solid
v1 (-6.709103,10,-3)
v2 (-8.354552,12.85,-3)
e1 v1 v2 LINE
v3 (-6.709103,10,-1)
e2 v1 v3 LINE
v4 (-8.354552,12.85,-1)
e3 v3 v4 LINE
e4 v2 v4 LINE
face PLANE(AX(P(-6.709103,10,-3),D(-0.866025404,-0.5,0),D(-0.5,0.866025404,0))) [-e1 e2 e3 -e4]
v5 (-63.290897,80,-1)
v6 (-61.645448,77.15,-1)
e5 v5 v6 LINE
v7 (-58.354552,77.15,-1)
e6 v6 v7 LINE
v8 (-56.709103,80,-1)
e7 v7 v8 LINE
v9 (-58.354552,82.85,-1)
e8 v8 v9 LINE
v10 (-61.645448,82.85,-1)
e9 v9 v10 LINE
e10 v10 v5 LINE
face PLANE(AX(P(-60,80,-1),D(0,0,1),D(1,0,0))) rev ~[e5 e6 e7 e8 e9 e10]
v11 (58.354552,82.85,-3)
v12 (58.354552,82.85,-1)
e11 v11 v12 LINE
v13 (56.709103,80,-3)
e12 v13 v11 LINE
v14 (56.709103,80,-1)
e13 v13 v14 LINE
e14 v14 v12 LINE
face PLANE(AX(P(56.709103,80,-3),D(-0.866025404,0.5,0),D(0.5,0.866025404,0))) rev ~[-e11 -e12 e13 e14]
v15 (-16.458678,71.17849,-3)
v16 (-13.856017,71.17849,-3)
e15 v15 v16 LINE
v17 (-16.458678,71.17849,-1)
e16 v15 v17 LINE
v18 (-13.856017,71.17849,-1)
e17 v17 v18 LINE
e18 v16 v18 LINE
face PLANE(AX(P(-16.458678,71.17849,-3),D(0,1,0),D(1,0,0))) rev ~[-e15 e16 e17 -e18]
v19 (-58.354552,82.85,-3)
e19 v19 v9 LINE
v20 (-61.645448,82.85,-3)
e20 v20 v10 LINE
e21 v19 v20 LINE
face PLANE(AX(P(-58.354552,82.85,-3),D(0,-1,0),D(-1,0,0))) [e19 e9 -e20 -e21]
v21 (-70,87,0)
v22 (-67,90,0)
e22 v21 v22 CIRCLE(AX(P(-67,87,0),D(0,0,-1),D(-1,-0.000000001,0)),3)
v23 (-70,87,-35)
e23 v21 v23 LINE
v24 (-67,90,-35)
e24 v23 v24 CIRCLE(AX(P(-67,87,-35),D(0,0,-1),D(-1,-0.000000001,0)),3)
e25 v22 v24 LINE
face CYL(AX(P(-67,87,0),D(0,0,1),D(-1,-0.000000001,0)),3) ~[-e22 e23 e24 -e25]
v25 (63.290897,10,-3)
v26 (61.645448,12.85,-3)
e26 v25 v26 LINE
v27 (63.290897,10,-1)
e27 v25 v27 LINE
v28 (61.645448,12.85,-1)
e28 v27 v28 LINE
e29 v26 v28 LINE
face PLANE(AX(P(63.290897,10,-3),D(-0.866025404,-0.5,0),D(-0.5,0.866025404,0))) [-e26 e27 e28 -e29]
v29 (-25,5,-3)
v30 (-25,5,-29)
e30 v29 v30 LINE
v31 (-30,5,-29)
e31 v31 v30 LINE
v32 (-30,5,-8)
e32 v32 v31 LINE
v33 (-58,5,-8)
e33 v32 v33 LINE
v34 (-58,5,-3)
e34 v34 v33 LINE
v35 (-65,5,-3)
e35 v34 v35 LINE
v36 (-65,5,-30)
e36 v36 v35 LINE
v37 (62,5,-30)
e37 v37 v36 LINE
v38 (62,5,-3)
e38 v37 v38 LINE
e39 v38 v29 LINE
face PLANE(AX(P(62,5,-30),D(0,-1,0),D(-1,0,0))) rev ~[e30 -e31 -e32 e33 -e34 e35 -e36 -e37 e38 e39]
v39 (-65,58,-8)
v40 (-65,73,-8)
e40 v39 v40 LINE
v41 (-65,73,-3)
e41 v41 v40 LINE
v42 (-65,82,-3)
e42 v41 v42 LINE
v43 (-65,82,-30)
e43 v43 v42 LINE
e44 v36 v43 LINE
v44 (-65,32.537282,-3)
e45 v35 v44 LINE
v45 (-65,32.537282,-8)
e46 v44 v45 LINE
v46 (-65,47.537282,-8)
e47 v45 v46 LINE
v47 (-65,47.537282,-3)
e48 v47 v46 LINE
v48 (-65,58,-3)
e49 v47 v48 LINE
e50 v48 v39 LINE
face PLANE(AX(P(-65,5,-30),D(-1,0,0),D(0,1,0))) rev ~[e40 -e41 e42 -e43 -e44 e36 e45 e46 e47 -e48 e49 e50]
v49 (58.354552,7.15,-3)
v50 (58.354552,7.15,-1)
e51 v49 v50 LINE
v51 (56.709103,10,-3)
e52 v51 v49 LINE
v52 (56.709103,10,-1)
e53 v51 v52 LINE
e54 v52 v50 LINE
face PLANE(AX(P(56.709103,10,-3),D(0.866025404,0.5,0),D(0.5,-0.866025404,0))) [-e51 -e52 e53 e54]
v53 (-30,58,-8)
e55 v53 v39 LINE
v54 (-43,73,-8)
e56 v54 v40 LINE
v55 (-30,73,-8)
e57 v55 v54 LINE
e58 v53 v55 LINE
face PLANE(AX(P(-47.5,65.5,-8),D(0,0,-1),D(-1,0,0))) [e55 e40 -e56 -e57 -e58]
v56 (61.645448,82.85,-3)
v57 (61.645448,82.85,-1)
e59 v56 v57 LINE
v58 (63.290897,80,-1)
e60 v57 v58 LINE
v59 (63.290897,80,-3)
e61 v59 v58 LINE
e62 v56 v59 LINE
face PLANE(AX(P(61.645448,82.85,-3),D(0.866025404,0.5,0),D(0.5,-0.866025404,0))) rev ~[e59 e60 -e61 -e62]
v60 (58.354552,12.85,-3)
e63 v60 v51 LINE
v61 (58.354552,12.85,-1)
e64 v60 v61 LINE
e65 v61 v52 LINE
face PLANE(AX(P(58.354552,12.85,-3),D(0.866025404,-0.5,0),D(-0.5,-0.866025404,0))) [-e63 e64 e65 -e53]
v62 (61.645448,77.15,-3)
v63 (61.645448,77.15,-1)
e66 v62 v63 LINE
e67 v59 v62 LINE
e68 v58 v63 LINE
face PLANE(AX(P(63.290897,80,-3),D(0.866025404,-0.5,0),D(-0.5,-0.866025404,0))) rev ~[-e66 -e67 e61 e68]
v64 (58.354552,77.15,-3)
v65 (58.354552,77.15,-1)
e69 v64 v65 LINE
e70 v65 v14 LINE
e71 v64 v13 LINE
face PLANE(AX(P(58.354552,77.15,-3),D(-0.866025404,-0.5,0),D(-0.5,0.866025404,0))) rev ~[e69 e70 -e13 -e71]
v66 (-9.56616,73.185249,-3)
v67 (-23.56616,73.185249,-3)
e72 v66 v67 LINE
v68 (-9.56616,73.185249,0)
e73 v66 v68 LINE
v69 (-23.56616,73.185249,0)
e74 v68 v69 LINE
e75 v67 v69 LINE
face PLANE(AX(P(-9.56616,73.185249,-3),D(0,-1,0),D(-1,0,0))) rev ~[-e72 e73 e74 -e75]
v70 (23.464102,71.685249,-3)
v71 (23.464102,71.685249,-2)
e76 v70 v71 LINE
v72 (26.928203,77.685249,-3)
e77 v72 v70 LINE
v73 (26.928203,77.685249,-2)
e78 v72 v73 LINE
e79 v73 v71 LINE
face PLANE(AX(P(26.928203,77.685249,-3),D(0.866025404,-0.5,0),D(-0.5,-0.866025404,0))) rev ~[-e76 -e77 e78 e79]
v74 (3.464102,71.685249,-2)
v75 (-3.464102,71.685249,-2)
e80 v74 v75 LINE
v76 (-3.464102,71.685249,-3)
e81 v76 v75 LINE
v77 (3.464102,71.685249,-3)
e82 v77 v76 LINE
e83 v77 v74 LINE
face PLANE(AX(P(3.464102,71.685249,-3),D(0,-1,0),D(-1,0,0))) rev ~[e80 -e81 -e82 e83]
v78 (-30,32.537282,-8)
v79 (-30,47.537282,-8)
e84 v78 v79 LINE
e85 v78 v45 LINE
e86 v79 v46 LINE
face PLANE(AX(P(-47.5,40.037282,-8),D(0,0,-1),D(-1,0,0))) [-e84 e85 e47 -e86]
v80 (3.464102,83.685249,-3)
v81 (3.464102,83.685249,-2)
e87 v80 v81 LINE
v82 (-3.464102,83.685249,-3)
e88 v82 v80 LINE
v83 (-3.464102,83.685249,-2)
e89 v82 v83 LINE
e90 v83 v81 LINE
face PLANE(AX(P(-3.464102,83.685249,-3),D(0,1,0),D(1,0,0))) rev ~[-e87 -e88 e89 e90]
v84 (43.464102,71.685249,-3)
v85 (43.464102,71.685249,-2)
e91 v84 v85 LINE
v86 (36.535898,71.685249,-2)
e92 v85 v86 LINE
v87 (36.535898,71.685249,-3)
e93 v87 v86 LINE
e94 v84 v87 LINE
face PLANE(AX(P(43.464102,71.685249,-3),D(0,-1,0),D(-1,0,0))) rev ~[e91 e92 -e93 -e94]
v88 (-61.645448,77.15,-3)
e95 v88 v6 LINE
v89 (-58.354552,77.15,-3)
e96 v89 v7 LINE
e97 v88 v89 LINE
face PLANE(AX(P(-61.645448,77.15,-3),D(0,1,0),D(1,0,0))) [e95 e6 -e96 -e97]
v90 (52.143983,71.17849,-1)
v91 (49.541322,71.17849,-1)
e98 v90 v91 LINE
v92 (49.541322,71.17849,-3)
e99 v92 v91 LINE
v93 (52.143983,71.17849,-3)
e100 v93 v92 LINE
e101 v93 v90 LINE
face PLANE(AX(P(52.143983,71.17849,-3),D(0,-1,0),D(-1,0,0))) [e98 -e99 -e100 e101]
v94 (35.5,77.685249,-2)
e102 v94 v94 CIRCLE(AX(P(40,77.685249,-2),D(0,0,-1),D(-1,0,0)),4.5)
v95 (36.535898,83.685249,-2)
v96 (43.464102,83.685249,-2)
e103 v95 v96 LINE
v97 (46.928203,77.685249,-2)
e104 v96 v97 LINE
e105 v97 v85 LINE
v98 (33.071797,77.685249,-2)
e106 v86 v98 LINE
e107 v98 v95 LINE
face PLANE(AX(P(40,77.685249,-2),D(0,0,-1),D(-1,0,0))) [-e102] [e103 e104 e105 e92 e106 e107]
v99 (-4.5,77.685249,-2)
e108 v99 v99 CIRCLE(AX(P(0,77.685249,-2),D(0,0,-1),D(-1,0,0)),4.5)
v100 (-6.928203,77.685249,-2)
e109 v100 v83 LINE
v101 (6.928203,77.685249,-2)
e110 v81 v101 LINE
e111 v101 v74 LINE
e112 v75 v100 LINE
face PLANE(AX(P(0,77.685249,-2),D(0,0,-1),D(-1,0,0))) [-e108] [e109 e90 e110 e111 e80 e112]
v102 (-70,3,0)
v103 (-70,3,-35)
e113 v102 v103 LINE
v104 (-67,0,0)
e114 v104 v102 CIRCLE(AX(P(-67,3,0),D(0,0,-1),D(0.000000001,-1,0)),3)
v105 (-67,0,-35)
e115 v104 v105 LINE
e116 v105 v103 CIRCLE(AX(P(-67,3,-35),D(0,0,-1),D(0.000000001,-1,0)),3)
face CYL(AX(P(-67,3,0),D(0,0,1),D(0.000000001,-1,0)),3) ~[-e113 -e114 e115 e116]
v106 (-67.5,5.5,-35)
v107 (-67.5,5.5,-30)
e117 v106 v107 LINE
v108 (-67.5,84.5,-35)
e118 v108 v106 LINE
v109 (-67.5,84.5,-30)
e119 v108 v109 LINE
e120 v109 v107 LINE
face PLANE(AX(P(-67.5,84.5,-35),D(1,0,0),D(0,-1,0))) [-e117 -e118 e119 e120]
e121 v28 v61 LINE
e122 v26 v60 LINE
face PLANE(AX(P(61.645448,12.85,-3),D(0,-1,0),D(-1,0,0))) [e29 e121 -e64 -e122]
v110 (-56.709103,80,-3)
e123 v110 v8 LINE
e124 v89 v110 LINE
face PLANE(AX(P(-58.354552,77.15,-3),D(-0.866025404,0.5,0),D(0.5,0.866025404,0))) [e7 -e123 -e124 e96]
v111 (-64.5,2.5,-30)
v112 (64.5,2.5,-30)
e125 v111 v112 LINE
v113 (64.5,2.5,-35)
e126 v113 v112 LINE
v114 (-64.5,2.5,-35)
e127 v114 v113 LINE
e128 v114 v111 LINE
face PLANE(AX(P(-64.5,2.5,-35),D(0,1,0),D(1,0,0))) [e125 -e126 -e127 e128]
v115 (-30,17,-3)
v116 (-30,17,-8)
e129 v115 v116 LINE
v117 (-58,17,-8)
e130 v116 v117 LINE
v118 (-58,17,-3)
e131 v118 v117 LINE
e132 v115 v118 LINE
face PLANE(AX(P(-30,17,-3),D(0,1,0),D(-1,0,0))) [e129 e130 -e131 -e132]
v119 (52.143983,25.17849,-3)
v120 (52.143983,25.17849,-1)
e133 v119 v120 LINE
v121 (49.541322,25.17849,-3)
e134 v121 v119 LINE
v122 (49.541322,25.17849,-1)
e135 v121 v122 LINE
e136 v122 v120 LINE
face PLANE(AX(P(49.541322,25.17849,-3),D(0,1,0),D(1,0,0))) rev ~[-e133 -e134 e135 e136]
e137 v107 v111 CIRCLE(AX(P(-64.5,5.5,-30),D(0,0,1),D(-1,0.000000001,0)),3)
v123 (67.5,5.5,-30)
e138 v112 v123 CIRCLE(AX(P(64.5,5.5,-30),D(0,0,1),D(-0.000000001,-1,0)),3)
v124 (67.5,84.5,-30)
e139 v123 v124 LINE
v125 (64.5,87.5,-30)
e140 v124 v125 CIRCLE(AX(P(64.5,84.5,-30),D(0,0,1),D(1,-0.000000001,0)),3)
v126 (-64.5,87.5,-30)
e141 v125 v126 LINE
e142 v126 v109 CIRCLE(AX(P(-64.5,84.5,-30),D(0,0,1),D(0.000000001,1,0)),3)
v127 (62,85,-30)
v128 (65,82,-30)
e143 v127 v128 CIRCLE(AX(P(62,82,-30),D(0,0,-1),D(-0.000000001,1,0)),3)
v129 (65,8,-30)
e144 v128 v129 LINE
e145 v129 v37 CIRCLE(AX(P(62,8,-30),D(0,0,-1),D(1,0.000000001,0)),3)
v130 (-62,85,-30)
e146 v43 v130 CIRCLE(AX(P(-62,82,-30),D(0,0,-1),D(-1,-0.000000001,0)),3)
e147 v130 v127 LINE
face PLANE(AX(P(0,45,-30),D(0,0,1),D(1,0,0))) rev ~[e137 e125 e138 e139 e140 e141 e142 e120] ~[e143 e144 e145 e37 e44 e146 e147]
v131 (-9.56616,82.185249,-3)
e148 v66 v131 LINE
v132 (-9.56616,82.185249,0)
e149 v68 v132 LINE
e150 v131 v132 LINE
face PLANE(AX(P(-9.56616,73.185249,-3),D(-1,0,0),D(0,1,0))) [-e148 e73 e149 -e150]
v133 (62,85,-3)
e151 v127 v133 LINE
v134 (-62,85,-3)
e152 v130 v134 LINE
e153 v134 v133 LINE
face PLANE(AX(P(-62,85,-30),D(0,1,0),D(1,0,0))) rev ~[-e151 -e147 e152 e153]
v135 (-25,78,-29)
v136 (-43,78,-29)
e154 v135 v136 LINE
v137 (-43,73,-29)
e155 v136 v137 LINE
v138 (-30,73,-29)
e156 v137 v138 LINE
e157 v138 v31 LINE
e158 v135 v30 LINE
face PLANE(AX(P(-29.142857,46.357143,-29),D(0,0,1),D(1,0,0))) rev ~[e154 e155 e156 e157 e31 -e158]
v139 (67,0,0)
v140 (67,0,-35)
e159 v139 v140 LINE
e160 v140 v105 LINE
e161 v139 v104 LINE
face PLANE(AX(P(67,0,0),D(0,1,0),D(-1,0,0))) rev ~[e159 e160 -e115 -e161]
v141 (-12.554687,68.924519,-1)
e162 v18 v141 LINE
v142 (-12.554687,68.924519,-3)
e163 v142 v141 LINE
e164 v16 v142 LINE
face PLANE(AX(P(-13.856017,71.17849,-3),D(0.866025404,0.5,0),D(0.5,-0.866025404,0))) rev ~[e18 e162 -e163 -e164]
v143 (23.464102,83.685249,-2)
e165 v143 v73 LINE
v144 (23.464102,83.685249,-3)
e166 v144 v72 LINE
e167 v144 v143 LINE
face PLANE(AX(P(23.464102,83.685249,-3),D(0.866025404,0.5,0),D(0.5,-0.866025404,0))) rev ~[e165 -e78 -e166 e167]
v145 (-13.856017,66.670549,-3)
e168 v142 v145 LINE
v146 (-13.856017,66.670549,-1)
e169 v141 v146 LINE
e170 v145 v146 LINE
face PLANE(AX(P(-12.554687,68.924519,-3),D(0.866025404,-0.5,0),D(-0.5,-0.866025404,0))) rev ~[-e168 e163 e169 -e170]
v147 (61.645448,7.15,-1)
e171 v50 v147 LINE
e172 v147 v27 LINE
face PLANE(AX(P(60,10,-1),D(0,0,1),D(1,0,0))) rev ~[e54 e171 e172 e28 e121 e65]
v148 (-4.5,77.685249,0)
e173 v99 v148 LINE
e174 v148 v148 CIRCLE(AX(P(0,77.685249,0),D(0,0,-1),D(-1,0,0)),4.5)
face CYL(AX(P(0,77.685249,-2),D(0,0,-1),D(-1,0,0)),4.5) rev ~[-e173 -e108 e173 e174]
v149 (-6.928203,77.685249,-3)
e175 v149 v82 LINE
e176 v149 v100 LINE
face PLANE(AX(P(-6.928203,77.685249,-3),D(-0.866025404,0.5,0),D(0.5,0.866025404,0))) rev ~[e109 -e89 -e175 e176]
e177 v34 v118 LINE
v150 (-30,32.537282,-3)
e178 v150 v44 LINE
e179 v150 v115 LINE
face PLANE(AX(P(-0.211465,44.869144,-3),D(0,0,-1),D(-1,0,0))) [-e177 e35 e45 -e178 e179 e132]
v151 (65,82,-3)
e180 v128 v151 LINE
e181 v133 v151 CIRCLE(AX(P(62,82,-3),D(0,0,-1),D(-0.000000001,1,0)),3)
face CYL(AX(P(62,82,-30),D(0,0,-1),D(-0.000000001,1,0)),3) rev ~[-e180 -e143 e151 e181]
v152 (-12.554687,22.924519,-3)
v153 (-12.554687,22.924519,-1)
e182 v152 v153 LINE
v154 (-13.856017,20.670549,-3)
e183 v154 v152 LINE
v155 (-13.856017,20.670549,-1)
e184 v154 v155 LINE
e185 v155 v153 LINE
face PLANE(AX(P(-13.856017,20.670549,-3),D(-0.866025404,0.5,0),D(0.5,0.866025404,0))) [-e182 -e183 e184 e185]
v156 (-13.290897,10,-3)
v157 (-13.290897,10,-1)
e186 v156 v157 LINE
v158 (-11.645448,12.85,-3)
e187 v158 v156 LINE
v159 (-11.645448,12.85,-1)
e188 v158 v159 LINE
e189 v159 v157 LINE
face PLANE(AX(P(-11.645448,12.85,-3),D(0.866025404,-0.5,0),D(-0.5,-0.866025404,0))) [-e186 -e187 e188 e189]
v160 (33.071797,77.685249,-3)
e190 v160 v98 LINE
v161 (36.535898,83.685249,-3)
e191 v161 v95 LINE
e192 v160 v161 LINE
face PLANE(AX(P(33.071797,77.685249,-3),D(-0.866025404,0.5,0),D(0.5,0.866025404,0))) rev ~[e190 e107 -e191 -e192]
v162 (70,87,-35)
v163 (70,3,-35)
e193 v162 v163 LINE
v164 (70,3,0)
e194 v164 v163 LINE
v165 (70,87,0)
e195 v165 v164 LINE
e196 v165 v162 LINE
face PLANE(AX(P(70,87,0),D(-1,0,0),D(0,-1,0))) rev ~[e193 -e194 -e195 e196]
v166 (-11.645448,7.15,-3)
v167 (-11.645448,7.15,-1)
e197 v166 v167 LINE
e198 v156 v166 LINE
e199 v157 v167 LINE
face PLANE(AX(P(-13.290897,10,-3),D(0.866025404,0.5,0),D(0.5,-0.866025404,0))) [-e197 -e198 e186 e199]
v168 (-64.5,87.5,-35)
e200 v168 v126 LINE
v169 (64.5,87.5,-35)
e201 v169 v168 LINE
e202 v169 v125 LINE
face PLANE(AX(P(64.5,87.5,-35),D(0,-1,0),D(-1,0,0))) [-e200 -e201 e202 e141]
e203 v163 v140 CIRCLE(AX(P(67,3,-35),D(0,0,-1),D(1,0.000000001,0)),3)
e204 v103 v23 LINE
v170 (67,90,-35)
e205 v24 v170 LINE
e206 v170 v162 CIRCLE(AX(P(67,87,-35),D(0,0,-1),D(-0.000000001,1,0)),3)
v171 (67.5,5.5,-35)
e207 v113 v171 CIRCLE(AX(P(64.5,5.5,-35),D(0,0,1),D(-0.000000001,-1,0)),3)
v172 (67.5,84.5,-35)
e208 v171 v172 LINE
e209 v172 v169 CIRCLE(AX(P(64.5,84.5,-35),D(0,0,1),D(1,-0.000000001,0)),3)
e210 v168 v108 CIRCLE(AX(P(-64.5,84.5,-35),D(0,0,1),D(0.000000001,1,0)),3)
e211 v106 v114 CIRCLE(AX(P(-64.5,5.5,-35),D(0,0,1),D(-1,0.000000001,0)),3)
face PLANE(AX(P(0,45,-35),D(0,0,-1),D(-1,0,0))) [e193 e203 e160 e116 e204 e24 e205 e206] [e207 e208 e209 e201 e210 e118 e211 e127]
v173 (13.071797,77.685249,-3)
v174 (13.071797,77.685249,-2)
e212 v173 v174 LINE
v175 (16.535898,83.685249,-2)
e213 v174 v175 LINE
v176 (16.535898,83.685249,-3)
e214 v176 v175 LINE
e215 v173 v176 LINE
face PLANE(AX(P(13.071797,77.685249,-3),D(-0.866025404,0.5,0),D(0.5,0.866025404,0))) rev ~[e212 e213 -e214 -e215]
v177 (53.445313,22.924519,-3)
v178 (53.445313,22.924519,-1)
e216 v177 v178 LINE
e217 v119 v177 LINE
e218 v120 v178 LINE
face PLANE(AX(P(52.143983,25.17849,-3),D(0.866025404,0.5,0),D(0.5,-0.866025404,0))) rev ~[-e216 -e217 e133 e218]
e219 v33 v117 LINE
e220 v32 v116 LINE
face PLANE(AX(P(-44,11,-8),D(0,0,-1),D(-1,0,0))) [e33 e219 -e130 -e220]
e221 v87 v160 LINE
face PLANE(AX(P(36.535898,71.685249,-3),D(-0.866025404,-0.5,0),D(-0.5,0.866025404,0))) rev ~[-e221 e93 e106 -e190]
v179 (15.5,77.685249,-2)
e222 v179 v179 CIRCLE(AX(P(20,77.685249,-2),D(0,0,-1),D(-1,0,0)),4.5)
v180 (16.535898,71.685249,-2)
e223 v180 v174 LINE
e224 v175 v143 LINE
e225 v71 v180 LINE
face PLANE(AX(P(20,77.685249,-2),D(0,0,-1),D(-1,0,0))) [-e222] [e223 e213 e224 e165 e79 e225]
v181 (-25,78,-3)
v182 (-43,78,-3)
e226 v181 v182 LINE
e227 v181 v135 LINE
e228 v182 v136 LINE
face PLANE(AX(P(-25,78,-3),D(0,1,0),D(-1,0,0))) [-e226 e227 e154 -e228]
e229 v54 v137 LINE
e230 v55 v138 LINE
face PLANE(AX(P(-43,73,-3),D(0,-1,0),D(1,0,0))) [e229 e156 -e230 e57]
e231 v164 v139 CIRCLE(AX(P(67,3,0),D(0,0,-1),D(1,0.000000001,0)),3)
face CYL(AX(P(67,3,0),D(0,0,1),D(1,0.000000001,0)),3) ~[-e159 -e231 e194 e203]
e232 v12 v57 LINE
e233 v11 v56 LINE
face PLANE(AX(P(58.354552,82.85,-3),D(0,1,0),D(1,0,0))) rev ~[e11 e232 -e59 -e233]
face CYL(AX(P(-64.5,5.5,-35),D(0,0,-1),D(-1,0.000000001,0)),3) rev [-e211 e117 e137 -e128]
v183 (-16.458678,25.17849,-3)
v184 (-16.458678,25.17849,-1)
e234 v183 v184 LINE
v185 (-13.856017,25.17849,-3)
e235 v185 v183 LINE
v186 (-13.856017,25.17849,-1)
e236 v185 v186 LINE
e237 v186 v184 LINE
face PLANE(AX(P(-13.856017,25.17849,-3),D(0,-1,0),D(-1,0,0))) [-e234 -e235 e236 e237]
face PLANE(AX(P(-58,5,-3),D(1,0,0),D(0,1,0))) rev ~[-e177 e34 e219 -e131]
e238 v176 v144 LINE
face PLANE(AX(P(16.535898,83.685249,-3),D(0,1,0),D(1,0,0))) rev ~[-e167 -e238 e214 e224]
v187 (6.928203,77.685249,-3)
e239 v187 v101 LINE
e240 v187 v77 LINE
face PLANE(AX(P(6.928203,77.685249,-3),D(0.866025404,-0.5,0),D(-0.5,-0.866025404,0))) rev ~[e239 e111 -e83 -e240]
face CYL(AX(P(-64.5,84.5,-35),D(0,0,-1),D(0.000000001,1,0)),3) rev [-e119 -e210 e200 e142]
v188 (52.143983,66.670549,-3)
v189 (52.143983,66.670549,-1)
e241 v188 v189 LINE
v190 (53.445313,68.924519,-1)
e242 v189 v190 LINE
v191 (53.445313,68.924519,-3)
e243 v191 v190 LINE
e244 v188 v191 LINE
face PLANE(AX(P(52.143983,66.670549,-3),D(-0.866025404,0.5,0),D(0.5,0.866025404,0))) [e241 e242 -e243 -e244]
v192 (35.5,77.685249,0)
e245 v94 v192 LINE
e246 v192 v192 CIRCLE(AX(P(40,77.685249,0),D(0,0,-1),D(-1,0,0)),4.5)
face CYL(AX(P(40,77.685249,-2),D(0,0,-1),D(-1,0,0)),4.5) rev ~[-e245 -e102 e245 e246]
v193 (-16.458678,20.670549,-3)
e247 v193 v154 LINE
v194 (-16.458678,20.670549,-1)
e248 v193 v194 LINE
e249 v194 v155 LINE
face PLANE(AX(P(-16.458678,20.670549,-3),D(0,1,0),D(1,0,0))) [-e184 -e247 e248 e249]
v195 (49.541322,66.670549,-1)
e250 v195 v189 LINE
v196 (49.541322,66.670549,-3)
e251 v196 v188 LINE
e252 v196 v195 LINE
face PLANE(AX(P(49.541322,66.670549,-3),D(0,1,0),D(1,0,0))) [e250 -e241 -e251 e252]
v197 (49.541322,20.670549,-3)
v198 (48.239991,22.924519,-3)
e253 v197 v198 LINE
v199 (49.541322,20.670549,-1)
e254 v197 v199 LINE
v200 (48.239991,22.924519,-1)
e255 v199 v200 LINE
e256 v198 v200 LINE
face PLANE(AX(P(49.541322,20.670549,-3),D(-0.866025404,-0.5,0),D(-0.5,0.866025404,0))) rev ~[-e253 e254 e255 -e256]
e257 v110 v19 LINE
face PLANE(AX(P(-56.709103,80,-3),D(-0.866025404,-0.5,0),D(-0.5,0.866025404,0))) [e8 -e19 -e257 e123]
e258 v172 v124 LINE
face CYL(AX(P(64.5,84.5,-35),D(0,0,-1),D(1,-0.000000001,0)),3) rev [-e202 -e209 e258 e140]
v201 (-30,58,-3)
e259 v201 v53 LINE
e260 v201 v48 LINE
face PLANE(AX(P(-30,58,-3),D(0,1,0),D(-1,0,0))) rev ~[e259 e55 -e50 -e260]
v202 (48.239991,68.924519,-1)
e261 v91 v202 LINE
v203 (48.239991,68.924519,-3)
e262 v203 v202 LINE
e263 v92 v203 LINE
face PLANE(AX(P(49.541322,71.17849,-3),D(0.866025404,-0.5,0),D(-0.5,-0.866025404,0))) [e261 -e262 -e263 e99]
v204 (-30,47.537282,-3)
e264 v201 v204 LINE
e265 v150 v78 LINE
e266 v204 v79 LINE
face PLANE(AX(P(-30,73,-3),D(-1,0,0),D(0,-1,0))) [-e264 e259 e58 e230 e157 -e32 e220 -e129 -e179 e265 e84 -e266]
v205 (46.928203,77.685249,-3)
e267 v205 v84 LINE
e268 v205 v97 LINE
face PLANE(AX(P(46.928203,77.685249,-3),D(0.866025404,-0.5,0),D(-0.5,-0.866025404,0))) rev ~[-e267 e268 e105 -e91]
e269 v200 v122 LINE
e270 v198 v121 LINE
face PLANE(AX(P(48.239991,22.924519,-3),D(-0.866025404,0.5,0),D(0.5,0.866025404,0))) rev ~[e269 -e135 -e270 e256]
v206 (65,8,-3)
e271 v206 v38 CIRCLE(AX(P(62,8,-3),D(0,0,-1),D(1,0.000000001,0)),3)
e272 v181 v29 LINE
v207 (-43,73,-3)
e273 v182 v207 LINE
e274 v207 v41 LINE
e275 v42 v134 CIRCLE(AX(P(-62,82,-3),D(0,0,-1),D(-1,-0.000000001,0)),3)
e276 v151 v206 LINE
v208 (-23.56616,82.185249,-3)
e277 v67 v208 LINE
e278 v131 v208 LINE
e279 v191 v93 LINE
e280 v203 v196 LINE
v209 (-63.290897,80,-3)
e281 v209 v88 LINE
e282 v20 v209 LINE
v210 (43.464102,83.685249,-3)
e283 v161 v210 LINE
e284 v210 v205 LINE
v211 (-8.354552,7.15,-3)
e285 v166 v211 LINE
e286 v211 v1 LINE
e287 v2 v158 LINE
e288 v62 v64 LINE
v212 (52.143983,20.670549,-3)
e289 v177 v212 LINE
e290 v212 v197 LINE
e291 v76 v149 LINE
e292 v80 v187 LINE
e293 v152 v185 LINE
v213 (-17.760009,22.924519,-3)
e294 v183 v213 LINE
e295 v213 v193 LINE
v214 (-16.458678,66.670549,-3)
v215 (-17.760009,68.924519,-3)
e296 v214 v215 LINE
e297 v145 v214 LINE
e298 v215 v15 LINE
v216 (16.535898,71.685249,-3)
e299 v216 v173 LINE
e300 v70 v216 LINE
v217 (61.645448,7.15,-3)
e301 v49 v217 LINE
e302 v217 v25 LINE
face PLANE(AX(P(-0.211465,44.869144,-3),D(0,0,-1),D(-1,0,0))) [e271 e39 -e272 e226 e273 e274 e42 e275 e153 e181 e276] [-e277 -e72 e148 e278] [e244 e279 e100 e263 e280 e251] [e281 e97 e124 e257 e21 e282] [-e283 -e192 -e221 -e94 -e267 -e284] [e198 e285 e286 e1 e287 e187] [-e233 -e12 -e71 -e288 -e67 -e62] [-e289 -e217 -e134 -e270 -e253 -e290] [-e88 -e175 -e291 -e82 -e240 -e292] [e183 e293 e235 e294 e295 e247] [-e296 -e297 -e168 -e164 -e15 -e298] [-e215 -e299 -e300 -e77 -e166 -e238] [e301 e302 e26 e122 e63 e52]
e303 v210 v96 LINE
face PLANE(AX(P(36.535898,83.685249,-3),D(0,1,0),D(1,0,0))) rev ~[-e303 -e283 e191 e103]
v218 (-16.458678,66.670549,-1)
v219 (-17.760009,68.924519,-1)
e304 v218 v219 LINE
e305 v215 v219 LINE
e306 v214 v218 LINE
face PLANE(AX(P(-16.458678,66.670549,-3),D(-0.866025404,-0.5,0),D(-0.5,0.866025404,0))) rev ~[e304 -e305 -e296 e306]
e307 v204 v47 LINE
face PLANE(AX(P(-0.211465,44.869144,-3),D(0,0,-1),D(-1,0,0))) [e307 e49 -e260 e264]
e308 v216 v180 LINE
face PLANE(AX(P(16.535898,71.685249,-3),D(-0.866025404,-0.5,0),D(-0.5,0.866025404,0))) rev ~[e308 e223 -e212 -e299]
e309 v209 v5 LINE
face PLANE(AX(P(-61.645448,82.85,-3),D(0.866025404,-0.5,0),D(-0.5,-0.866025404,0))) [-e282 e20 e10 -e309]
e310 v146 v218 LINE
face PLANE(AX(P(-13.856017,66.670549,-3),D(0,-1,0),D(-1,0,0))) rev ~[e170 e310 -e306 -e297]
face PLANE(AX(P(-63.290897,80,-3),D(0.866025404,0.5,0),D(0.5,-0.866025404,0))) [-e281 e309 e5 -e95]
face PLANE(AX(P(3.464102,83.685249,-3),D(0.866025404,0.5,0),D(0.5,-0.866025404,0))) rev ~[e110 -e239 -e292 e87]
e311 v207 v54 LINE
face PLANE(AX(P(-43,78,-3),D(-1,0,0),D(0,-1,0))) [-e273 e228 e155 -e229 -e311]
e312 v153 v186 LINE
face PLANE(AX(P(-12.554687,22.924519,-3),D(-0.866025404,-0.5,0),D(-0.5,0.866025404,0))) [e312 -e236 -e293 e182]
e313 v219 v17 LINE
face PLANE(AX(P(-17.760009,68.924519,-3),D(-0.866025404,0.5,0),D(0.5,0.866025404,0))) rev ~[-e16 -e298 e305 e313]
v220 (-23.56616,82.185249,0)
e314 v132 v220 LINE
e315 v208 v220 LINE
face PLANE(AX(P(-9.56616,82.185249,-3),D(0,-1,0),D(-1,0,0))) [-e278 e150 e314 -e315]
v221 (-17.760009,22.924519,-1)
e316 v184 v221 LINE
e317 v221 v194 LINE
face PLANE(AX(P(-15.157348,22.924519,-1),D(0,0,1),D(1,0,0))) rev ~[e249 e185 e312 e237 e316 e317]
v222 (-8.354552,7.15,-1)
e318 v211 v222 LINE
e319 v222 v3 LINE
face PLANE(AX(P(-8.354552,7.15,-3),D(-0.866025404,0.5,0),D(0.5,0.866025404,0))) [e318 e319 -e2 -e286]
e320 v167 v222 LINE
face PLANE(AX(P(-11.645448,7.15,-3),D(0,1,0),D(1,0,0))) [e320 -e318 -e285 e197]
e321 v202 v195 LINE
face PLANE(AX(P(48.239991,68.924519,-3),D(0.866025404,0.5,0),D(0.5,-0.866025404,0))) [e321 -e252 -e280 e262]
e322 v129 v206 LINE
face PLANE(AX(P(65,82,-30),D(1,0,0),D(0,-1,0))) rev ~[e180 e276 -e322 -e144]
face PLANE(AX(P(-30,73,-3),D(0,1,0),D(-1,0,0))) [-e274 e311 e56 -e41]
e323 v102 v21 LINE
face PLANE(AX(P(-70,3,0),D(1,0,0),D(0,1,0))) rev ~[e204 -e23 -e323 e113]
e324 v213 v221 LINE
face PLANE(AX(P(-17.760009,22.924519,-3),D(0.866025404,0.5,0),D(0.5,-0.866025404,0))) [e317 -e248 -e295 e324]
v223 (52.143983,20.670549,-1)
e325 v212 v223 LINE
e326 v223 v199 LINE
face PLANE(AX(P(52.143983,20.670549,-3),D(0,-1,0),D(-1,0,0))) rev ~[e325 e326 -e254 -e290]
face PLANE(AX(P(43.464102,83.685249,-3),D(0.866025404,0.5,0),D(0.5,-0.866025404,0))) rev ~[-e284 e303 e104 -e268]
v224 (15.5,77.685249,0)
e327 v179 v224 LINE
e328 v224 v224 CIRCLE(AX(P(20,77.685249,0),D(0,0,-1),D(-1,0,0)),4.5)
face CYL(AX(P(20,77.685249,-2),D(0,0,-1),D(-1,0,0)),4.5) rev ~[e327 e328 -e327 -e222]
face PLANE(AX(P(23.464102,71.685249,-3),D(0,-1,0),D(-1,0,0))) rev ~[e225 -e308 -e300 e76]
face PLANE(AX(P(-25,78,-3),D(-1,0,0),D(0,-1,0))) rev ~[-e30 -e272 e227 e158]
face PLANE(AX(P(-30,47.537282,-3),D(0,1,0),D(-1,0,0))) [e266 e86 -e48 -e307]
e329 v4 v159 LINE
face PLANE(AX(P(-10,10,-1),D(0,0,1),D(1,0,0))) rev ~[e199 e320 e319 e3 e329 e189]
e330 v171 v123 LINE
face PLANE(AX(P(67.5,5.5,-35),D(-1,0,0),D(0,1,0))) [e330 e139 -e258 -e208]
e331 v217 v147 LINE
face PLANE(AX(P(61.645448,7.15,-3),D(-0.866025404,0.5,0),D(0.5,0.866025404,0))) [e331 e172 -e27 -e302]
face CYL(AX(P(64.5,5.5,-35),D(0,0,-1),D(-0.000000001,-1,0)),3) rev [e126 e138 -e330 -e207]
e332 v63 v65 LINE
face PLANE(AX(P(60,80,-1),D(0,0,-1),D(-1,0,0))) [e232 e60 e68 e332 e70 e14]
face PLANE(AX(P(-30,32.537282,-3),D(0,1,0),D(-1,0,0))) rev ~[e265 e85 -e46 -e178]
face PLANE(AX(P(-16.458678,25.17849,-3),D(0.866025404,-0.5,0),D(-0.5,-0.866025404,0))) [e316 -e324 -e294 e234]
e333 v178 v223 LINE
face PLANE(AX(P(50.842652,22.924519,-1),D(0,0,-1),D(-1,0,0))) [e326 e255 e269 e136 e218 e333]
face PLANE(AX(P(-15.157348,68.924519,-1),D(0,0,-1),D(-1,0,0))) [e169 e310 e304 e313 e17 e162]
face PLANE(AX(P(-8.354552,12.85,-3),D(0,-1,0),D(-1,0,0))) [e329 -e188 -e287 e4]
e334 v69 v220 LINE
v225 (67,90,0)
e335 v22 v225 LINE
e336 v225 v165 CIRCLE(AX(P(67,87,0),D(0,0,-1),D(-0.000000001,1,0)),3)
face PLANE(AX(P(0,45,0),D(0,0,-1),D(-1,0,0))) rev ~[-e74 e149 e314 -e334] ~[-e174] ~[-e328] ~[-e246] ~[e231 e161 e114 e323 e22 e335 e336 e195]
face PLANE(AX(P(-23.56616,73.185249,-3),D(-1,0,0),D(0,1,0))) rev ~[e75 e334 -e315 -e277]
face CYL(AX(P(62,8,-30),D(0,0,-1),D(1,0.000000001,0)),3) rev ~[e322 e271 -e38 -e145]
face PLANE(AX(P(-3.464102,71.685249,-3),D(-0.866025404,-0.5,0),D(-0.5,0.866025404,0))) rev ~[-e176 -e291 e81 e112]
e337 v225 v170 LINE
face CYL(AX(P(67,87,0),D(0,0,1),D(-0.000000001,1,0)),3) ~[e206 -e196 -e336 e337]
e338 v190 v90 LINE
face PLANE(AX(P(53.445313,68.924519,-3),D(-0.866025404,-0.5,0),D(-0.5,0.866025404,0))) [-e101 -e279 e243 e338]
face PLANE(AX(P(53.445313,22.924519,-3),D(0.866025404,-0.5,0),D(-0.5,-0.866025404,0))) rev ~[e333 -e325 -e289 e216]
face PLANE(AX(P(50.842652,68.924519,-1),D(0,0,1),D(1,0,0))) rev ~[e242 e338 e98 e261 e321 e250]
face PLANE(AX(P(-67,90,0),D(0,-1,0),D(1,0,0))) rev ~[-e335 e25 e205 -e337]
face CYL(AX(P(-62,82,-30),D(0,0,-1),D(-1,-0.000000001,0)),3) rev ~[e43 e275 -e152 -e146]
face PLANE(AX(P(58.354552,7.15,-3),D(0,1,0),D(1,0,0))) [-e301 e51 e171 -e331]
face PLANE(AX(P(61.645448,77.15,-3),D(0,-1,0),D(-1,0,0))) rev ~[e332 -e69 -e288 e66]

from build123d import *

# Parameters (mm, degrees)
EXTRUDE_2_DEPTH     = 35
CUT_EXTRUDE_3_DEPTH = 5
CUT_EXTRUDE_4_DEPTH = 27
CUT_EXTRUDE_5_DEPTH = 2
CUT_EXTRUDE_6_DEPTH = 1
SKETCH_10_R         = 4.5
CUT_EXTRUDE_7_DEPTH = 2
SKETCH_11_W         = 35
SKETCH_11_H         = 15
SKETCH_11_W_2       = 28
SKETCH_11_H_2       = 12
EXTRUDE_3_DEPTH     = 5
EXTRUDE_5_DEPTH     = 26
SKETCH_13_W         = 14
SKETCH_13_H         = 9
CUT_EXTRUDE_8_DEPTH = 3


with BuildPart() as part:
    # 草图4 → 凸台-拉伸2 (new body)
    with BuildSketch(Plane.XY):
        with BuildLine():
            Line((67, 0), (-67, 0))
            ThreePointArc((-67, 0), (-69.121320344, 0.878679656), (-70, 3))
            Line((-70, 3), (-70, 87))
            ThreePointArc((-70, 87), (-69.121320344, 89.121320344), (-67, 90))
            Line((-67, 90), (67, 90))
            ThreePointArc((67, 90), (69.121320344, 89.121320344), (70, 87))
            Line((70, 87), (70, 3))
            ThreePointArc((70, 3), (69.121320344, 0.878679656), (67, 0))
        make_face()
    extrude(amount=-EXTRUDE_2_DEPTH)

    # 草图5 → 切除-拉伸3 (cut)
    with BuildSketch(Plane(origin=(0, 0, -35), x_dir=(-1, 0, 0), z_dir=(0, 0, -1))):
        with BuildLine():
            Line((-64.5, 87.5), (64.5, 87.5))
            ThreePointArc((64.5, 87.5), (66.621320344, 86.621320344), (67.5, 84.5))
            Line((67.5, 84.5), (67.5, 5.5))
            ThreePointArc((67.5, 5.5), (66.621320344, 3.378679656), (64.5, 2.5))
            Line((64.5, 2.5), (-64.5, 2.5))
            ThreePointArc((-64.5, 2.5), (-66.621320344, 3.378679656), (-67.5, 5.5))
            Line((-67.5, 5.5), (-67.5, 84.5))
            ThreePointArc((-67.5, 84.5), (-66.621320344, 86.621320344), (-64.5, 87.5))
        make_face()
    extrude(amount=-CUT_EXTRUDE_3_DEPTH, mode=Mode.SUBTRACT)

    # 草图7 → 切除-拉伸4 (cut)
    with BuildSketch(Plane(origin=(0, 0, -30), x_dir=(-1, 0, 0), z_dir=(0, 0, -1))):
        with BuildLine():
            Line((62, 5), (65, 5))
            Line((65, 5), (65, 8))
            Line((65, 8), (65, 82))
            ThreePointArc((65, 82), (64.121320344, 84.121320344), (62, 85))
            Line((62, 85), (-62, 85))
            ThreePointArc((-62, 85), (-64.121320344, 84.121320344), (-65, 82))
            Line((-65, 82), (-65, 8))
            ThreePointArc((-65, 8), (-64.121320344, 5.878679656), (-62, 5))
            Line((-62, 5), (62, 5))
        make_face()
    extrude(amount=-CUT_EXTRUDE_4_DEPTH, mode=Mode.SUBTRACT)

    # 草图8 → 切除-拉伸5 (cut)
    with BuildSketch(Plane(origin=(0, 0, -3), x_dir=(-1, 0, 0), z_dir=(0, 0, -1))):
        Polygon((-58.354551733, 12.85), (-56.709103466, 10), (-58.354551733, 7.15), (-61.645448267, 7.15), (-63.290896534, 10), (-61.645448267, 12.85), align=None)
        Polygon((-56.709103466, 80), (-58.354551733, 82.85), (-61.645448267, 82.85), (-63.290896534, 80), (-61.645448267, 77.15), (-58.354551733, 77.15), align=None)
        Polygon((17.760008931, 68.924519398), (16.458678386, 71.17849002), (13.856017295, 71.17849002), (12.554686749, 68.924519398), (13.856017295, 66.670548775), (16.458678386, 66.670548775), align=None)
        Polygon((-52.143982702, 66.670548775), (-53.445313247, 68.924519398), (-52.143982702, 71.17849002), (-49.541321611, 71.17849002), (-48.239991065, 68.924519398), (-49.541321611, 66.670548775), align=None)
        Polygon((58.354551733, 77.15), (56.709103466, 80), (58.354551733, 82.85), (61.645448267, 82.85), (63.290896534, 80), (61.645448267, 77.15), align=None)
        Polygon((8.354551733, 7.15), (6.709103466, 10), (8.354551733, 12.85), (11.645448267, 12.85), (13.290896534, 10), (11.645448267, 7.15), align=None)
        Polygon((-49.541321611, 25.17849002), (-52.143982702, 25.17849002), (-53.445313247, 22.924519398), (-52.143982702, 20.670548775), (-49.541321611, 20.670548775), (-48.239991065, 22.924519398), align=None)
        Polygon((16.458678386, 25.17849002), (17.760008931, 22.924519398), (16.458678386, 20.670548775), (13.856017295, 20.670548775), (12.554686749, 22.924519398), (13.856017295, 25.17849002), align=None)
    extrude(amount=-CUT_EXTRUDE_5_DEPTH, mode=Mode.SUBTRACT)

    # 草图9 → 切除-拉伸6 (cut)
    with BuildSketch(Plane(origin=(0, 0, -3), x_dir=(-1, 0, 0), z_dir=(0, 0, -1))):
        Polygon((-13.07179677, 77.685248672), (-16.535898385, 83.685248672), (-23.464101615, 83.685248672), (-26.92820323, 77.685248672), (-23.464101615, 71.685248672), (-16.535898385, 71.685248672), align=None)
        Polygon((-33.07179677, 77.685248672), (-36.535898385, 83.685248672), (-43.464101615, 83.685248672), (-46.92820323, 77.685248672), (-43.464101615, 71.685248672), (-36.535898385, 71.685248672), align=None)
        Polygon((6.92820323, 77.685248672), (3.464101615, 83.685248672), (-3.464101615, 83.685248672), (-6.92820323, 77.685248672), (-3.464101615, 71.685248672), (3.464101615, 71.685248672), align=None)
    extrude(amount=-CUT_EXTRUDE_6_DEPTH, mode=Mode.SUBTRACT)

    # 草图10 → 切除-拉伸7 (cut)
    with BuildSketch(Plane(origin=(0, 0, -2), x_dir=(-1, 0, 0), z_dir=(0, 0, -1))):
        with Locations((-40, 77.685248672)):
            Circle(SKETCH_10_R)
        with Locations((-20, 77.685248672)):
            Circle(SKETCH_10_R)
        with Locations((0, 77.685248672)):
            Circle(SKETCH_10_R)
    extrude(amount=-CUT_EXTRUDE_7_DEPTH, mode=Mode.SUBTRACT)

    # 草图11 → 凸台-拉伸3 (add)
    with BuildSketch(Plane(origin=(0, 0, -3), x_dir=(-1, 0, 0), z_dir=(0, 0, -1))):
        with Locations((47.5, 65.5)):
            Rectangle(SKETCH_11_W, SKETCH_11_H)
        with Locations((44, 11)):
            Rectangle(SKETCH_11_W_2, SKETCH_11_H_2)
        with Locations((47.5, 40.037281602)):
            Rectangle(SKETCH_11_W, SKETCH_11_H)
    extrude(amount=EXTRUDE_3_DEPTH)

    # 草图12 → 凸台-拉伸5 (add)
    with BuildSketch(Plane(origin=(0, 0, -3), x_dir=(-1, 0, 0), z_dir=(0, 0, -1))):
        Polygon((30, 73), (30, 5), (25, 5), (25, 73), (25, 78), (43, 78), (43, 73), align=None)
    extrude(amount=EXTRUDE_5_DEPTH)

    # 草图13 → 切除-拉伸8 (cut)
    with BuildSketch(Plane(origin=(0, 0, -3), x_dir=(-1, 0, 0), z_dir=(0, 0, -1))):
        with Locations((16.566160231, 77.685248672)):
            Rectangle(SKETCH_13_W, SKETCH_13_H)
    extrude(amount=-CUT_EXTRUDE_8_DEPTH, mode=Mode.SUBTRACT)


solid = part.part
